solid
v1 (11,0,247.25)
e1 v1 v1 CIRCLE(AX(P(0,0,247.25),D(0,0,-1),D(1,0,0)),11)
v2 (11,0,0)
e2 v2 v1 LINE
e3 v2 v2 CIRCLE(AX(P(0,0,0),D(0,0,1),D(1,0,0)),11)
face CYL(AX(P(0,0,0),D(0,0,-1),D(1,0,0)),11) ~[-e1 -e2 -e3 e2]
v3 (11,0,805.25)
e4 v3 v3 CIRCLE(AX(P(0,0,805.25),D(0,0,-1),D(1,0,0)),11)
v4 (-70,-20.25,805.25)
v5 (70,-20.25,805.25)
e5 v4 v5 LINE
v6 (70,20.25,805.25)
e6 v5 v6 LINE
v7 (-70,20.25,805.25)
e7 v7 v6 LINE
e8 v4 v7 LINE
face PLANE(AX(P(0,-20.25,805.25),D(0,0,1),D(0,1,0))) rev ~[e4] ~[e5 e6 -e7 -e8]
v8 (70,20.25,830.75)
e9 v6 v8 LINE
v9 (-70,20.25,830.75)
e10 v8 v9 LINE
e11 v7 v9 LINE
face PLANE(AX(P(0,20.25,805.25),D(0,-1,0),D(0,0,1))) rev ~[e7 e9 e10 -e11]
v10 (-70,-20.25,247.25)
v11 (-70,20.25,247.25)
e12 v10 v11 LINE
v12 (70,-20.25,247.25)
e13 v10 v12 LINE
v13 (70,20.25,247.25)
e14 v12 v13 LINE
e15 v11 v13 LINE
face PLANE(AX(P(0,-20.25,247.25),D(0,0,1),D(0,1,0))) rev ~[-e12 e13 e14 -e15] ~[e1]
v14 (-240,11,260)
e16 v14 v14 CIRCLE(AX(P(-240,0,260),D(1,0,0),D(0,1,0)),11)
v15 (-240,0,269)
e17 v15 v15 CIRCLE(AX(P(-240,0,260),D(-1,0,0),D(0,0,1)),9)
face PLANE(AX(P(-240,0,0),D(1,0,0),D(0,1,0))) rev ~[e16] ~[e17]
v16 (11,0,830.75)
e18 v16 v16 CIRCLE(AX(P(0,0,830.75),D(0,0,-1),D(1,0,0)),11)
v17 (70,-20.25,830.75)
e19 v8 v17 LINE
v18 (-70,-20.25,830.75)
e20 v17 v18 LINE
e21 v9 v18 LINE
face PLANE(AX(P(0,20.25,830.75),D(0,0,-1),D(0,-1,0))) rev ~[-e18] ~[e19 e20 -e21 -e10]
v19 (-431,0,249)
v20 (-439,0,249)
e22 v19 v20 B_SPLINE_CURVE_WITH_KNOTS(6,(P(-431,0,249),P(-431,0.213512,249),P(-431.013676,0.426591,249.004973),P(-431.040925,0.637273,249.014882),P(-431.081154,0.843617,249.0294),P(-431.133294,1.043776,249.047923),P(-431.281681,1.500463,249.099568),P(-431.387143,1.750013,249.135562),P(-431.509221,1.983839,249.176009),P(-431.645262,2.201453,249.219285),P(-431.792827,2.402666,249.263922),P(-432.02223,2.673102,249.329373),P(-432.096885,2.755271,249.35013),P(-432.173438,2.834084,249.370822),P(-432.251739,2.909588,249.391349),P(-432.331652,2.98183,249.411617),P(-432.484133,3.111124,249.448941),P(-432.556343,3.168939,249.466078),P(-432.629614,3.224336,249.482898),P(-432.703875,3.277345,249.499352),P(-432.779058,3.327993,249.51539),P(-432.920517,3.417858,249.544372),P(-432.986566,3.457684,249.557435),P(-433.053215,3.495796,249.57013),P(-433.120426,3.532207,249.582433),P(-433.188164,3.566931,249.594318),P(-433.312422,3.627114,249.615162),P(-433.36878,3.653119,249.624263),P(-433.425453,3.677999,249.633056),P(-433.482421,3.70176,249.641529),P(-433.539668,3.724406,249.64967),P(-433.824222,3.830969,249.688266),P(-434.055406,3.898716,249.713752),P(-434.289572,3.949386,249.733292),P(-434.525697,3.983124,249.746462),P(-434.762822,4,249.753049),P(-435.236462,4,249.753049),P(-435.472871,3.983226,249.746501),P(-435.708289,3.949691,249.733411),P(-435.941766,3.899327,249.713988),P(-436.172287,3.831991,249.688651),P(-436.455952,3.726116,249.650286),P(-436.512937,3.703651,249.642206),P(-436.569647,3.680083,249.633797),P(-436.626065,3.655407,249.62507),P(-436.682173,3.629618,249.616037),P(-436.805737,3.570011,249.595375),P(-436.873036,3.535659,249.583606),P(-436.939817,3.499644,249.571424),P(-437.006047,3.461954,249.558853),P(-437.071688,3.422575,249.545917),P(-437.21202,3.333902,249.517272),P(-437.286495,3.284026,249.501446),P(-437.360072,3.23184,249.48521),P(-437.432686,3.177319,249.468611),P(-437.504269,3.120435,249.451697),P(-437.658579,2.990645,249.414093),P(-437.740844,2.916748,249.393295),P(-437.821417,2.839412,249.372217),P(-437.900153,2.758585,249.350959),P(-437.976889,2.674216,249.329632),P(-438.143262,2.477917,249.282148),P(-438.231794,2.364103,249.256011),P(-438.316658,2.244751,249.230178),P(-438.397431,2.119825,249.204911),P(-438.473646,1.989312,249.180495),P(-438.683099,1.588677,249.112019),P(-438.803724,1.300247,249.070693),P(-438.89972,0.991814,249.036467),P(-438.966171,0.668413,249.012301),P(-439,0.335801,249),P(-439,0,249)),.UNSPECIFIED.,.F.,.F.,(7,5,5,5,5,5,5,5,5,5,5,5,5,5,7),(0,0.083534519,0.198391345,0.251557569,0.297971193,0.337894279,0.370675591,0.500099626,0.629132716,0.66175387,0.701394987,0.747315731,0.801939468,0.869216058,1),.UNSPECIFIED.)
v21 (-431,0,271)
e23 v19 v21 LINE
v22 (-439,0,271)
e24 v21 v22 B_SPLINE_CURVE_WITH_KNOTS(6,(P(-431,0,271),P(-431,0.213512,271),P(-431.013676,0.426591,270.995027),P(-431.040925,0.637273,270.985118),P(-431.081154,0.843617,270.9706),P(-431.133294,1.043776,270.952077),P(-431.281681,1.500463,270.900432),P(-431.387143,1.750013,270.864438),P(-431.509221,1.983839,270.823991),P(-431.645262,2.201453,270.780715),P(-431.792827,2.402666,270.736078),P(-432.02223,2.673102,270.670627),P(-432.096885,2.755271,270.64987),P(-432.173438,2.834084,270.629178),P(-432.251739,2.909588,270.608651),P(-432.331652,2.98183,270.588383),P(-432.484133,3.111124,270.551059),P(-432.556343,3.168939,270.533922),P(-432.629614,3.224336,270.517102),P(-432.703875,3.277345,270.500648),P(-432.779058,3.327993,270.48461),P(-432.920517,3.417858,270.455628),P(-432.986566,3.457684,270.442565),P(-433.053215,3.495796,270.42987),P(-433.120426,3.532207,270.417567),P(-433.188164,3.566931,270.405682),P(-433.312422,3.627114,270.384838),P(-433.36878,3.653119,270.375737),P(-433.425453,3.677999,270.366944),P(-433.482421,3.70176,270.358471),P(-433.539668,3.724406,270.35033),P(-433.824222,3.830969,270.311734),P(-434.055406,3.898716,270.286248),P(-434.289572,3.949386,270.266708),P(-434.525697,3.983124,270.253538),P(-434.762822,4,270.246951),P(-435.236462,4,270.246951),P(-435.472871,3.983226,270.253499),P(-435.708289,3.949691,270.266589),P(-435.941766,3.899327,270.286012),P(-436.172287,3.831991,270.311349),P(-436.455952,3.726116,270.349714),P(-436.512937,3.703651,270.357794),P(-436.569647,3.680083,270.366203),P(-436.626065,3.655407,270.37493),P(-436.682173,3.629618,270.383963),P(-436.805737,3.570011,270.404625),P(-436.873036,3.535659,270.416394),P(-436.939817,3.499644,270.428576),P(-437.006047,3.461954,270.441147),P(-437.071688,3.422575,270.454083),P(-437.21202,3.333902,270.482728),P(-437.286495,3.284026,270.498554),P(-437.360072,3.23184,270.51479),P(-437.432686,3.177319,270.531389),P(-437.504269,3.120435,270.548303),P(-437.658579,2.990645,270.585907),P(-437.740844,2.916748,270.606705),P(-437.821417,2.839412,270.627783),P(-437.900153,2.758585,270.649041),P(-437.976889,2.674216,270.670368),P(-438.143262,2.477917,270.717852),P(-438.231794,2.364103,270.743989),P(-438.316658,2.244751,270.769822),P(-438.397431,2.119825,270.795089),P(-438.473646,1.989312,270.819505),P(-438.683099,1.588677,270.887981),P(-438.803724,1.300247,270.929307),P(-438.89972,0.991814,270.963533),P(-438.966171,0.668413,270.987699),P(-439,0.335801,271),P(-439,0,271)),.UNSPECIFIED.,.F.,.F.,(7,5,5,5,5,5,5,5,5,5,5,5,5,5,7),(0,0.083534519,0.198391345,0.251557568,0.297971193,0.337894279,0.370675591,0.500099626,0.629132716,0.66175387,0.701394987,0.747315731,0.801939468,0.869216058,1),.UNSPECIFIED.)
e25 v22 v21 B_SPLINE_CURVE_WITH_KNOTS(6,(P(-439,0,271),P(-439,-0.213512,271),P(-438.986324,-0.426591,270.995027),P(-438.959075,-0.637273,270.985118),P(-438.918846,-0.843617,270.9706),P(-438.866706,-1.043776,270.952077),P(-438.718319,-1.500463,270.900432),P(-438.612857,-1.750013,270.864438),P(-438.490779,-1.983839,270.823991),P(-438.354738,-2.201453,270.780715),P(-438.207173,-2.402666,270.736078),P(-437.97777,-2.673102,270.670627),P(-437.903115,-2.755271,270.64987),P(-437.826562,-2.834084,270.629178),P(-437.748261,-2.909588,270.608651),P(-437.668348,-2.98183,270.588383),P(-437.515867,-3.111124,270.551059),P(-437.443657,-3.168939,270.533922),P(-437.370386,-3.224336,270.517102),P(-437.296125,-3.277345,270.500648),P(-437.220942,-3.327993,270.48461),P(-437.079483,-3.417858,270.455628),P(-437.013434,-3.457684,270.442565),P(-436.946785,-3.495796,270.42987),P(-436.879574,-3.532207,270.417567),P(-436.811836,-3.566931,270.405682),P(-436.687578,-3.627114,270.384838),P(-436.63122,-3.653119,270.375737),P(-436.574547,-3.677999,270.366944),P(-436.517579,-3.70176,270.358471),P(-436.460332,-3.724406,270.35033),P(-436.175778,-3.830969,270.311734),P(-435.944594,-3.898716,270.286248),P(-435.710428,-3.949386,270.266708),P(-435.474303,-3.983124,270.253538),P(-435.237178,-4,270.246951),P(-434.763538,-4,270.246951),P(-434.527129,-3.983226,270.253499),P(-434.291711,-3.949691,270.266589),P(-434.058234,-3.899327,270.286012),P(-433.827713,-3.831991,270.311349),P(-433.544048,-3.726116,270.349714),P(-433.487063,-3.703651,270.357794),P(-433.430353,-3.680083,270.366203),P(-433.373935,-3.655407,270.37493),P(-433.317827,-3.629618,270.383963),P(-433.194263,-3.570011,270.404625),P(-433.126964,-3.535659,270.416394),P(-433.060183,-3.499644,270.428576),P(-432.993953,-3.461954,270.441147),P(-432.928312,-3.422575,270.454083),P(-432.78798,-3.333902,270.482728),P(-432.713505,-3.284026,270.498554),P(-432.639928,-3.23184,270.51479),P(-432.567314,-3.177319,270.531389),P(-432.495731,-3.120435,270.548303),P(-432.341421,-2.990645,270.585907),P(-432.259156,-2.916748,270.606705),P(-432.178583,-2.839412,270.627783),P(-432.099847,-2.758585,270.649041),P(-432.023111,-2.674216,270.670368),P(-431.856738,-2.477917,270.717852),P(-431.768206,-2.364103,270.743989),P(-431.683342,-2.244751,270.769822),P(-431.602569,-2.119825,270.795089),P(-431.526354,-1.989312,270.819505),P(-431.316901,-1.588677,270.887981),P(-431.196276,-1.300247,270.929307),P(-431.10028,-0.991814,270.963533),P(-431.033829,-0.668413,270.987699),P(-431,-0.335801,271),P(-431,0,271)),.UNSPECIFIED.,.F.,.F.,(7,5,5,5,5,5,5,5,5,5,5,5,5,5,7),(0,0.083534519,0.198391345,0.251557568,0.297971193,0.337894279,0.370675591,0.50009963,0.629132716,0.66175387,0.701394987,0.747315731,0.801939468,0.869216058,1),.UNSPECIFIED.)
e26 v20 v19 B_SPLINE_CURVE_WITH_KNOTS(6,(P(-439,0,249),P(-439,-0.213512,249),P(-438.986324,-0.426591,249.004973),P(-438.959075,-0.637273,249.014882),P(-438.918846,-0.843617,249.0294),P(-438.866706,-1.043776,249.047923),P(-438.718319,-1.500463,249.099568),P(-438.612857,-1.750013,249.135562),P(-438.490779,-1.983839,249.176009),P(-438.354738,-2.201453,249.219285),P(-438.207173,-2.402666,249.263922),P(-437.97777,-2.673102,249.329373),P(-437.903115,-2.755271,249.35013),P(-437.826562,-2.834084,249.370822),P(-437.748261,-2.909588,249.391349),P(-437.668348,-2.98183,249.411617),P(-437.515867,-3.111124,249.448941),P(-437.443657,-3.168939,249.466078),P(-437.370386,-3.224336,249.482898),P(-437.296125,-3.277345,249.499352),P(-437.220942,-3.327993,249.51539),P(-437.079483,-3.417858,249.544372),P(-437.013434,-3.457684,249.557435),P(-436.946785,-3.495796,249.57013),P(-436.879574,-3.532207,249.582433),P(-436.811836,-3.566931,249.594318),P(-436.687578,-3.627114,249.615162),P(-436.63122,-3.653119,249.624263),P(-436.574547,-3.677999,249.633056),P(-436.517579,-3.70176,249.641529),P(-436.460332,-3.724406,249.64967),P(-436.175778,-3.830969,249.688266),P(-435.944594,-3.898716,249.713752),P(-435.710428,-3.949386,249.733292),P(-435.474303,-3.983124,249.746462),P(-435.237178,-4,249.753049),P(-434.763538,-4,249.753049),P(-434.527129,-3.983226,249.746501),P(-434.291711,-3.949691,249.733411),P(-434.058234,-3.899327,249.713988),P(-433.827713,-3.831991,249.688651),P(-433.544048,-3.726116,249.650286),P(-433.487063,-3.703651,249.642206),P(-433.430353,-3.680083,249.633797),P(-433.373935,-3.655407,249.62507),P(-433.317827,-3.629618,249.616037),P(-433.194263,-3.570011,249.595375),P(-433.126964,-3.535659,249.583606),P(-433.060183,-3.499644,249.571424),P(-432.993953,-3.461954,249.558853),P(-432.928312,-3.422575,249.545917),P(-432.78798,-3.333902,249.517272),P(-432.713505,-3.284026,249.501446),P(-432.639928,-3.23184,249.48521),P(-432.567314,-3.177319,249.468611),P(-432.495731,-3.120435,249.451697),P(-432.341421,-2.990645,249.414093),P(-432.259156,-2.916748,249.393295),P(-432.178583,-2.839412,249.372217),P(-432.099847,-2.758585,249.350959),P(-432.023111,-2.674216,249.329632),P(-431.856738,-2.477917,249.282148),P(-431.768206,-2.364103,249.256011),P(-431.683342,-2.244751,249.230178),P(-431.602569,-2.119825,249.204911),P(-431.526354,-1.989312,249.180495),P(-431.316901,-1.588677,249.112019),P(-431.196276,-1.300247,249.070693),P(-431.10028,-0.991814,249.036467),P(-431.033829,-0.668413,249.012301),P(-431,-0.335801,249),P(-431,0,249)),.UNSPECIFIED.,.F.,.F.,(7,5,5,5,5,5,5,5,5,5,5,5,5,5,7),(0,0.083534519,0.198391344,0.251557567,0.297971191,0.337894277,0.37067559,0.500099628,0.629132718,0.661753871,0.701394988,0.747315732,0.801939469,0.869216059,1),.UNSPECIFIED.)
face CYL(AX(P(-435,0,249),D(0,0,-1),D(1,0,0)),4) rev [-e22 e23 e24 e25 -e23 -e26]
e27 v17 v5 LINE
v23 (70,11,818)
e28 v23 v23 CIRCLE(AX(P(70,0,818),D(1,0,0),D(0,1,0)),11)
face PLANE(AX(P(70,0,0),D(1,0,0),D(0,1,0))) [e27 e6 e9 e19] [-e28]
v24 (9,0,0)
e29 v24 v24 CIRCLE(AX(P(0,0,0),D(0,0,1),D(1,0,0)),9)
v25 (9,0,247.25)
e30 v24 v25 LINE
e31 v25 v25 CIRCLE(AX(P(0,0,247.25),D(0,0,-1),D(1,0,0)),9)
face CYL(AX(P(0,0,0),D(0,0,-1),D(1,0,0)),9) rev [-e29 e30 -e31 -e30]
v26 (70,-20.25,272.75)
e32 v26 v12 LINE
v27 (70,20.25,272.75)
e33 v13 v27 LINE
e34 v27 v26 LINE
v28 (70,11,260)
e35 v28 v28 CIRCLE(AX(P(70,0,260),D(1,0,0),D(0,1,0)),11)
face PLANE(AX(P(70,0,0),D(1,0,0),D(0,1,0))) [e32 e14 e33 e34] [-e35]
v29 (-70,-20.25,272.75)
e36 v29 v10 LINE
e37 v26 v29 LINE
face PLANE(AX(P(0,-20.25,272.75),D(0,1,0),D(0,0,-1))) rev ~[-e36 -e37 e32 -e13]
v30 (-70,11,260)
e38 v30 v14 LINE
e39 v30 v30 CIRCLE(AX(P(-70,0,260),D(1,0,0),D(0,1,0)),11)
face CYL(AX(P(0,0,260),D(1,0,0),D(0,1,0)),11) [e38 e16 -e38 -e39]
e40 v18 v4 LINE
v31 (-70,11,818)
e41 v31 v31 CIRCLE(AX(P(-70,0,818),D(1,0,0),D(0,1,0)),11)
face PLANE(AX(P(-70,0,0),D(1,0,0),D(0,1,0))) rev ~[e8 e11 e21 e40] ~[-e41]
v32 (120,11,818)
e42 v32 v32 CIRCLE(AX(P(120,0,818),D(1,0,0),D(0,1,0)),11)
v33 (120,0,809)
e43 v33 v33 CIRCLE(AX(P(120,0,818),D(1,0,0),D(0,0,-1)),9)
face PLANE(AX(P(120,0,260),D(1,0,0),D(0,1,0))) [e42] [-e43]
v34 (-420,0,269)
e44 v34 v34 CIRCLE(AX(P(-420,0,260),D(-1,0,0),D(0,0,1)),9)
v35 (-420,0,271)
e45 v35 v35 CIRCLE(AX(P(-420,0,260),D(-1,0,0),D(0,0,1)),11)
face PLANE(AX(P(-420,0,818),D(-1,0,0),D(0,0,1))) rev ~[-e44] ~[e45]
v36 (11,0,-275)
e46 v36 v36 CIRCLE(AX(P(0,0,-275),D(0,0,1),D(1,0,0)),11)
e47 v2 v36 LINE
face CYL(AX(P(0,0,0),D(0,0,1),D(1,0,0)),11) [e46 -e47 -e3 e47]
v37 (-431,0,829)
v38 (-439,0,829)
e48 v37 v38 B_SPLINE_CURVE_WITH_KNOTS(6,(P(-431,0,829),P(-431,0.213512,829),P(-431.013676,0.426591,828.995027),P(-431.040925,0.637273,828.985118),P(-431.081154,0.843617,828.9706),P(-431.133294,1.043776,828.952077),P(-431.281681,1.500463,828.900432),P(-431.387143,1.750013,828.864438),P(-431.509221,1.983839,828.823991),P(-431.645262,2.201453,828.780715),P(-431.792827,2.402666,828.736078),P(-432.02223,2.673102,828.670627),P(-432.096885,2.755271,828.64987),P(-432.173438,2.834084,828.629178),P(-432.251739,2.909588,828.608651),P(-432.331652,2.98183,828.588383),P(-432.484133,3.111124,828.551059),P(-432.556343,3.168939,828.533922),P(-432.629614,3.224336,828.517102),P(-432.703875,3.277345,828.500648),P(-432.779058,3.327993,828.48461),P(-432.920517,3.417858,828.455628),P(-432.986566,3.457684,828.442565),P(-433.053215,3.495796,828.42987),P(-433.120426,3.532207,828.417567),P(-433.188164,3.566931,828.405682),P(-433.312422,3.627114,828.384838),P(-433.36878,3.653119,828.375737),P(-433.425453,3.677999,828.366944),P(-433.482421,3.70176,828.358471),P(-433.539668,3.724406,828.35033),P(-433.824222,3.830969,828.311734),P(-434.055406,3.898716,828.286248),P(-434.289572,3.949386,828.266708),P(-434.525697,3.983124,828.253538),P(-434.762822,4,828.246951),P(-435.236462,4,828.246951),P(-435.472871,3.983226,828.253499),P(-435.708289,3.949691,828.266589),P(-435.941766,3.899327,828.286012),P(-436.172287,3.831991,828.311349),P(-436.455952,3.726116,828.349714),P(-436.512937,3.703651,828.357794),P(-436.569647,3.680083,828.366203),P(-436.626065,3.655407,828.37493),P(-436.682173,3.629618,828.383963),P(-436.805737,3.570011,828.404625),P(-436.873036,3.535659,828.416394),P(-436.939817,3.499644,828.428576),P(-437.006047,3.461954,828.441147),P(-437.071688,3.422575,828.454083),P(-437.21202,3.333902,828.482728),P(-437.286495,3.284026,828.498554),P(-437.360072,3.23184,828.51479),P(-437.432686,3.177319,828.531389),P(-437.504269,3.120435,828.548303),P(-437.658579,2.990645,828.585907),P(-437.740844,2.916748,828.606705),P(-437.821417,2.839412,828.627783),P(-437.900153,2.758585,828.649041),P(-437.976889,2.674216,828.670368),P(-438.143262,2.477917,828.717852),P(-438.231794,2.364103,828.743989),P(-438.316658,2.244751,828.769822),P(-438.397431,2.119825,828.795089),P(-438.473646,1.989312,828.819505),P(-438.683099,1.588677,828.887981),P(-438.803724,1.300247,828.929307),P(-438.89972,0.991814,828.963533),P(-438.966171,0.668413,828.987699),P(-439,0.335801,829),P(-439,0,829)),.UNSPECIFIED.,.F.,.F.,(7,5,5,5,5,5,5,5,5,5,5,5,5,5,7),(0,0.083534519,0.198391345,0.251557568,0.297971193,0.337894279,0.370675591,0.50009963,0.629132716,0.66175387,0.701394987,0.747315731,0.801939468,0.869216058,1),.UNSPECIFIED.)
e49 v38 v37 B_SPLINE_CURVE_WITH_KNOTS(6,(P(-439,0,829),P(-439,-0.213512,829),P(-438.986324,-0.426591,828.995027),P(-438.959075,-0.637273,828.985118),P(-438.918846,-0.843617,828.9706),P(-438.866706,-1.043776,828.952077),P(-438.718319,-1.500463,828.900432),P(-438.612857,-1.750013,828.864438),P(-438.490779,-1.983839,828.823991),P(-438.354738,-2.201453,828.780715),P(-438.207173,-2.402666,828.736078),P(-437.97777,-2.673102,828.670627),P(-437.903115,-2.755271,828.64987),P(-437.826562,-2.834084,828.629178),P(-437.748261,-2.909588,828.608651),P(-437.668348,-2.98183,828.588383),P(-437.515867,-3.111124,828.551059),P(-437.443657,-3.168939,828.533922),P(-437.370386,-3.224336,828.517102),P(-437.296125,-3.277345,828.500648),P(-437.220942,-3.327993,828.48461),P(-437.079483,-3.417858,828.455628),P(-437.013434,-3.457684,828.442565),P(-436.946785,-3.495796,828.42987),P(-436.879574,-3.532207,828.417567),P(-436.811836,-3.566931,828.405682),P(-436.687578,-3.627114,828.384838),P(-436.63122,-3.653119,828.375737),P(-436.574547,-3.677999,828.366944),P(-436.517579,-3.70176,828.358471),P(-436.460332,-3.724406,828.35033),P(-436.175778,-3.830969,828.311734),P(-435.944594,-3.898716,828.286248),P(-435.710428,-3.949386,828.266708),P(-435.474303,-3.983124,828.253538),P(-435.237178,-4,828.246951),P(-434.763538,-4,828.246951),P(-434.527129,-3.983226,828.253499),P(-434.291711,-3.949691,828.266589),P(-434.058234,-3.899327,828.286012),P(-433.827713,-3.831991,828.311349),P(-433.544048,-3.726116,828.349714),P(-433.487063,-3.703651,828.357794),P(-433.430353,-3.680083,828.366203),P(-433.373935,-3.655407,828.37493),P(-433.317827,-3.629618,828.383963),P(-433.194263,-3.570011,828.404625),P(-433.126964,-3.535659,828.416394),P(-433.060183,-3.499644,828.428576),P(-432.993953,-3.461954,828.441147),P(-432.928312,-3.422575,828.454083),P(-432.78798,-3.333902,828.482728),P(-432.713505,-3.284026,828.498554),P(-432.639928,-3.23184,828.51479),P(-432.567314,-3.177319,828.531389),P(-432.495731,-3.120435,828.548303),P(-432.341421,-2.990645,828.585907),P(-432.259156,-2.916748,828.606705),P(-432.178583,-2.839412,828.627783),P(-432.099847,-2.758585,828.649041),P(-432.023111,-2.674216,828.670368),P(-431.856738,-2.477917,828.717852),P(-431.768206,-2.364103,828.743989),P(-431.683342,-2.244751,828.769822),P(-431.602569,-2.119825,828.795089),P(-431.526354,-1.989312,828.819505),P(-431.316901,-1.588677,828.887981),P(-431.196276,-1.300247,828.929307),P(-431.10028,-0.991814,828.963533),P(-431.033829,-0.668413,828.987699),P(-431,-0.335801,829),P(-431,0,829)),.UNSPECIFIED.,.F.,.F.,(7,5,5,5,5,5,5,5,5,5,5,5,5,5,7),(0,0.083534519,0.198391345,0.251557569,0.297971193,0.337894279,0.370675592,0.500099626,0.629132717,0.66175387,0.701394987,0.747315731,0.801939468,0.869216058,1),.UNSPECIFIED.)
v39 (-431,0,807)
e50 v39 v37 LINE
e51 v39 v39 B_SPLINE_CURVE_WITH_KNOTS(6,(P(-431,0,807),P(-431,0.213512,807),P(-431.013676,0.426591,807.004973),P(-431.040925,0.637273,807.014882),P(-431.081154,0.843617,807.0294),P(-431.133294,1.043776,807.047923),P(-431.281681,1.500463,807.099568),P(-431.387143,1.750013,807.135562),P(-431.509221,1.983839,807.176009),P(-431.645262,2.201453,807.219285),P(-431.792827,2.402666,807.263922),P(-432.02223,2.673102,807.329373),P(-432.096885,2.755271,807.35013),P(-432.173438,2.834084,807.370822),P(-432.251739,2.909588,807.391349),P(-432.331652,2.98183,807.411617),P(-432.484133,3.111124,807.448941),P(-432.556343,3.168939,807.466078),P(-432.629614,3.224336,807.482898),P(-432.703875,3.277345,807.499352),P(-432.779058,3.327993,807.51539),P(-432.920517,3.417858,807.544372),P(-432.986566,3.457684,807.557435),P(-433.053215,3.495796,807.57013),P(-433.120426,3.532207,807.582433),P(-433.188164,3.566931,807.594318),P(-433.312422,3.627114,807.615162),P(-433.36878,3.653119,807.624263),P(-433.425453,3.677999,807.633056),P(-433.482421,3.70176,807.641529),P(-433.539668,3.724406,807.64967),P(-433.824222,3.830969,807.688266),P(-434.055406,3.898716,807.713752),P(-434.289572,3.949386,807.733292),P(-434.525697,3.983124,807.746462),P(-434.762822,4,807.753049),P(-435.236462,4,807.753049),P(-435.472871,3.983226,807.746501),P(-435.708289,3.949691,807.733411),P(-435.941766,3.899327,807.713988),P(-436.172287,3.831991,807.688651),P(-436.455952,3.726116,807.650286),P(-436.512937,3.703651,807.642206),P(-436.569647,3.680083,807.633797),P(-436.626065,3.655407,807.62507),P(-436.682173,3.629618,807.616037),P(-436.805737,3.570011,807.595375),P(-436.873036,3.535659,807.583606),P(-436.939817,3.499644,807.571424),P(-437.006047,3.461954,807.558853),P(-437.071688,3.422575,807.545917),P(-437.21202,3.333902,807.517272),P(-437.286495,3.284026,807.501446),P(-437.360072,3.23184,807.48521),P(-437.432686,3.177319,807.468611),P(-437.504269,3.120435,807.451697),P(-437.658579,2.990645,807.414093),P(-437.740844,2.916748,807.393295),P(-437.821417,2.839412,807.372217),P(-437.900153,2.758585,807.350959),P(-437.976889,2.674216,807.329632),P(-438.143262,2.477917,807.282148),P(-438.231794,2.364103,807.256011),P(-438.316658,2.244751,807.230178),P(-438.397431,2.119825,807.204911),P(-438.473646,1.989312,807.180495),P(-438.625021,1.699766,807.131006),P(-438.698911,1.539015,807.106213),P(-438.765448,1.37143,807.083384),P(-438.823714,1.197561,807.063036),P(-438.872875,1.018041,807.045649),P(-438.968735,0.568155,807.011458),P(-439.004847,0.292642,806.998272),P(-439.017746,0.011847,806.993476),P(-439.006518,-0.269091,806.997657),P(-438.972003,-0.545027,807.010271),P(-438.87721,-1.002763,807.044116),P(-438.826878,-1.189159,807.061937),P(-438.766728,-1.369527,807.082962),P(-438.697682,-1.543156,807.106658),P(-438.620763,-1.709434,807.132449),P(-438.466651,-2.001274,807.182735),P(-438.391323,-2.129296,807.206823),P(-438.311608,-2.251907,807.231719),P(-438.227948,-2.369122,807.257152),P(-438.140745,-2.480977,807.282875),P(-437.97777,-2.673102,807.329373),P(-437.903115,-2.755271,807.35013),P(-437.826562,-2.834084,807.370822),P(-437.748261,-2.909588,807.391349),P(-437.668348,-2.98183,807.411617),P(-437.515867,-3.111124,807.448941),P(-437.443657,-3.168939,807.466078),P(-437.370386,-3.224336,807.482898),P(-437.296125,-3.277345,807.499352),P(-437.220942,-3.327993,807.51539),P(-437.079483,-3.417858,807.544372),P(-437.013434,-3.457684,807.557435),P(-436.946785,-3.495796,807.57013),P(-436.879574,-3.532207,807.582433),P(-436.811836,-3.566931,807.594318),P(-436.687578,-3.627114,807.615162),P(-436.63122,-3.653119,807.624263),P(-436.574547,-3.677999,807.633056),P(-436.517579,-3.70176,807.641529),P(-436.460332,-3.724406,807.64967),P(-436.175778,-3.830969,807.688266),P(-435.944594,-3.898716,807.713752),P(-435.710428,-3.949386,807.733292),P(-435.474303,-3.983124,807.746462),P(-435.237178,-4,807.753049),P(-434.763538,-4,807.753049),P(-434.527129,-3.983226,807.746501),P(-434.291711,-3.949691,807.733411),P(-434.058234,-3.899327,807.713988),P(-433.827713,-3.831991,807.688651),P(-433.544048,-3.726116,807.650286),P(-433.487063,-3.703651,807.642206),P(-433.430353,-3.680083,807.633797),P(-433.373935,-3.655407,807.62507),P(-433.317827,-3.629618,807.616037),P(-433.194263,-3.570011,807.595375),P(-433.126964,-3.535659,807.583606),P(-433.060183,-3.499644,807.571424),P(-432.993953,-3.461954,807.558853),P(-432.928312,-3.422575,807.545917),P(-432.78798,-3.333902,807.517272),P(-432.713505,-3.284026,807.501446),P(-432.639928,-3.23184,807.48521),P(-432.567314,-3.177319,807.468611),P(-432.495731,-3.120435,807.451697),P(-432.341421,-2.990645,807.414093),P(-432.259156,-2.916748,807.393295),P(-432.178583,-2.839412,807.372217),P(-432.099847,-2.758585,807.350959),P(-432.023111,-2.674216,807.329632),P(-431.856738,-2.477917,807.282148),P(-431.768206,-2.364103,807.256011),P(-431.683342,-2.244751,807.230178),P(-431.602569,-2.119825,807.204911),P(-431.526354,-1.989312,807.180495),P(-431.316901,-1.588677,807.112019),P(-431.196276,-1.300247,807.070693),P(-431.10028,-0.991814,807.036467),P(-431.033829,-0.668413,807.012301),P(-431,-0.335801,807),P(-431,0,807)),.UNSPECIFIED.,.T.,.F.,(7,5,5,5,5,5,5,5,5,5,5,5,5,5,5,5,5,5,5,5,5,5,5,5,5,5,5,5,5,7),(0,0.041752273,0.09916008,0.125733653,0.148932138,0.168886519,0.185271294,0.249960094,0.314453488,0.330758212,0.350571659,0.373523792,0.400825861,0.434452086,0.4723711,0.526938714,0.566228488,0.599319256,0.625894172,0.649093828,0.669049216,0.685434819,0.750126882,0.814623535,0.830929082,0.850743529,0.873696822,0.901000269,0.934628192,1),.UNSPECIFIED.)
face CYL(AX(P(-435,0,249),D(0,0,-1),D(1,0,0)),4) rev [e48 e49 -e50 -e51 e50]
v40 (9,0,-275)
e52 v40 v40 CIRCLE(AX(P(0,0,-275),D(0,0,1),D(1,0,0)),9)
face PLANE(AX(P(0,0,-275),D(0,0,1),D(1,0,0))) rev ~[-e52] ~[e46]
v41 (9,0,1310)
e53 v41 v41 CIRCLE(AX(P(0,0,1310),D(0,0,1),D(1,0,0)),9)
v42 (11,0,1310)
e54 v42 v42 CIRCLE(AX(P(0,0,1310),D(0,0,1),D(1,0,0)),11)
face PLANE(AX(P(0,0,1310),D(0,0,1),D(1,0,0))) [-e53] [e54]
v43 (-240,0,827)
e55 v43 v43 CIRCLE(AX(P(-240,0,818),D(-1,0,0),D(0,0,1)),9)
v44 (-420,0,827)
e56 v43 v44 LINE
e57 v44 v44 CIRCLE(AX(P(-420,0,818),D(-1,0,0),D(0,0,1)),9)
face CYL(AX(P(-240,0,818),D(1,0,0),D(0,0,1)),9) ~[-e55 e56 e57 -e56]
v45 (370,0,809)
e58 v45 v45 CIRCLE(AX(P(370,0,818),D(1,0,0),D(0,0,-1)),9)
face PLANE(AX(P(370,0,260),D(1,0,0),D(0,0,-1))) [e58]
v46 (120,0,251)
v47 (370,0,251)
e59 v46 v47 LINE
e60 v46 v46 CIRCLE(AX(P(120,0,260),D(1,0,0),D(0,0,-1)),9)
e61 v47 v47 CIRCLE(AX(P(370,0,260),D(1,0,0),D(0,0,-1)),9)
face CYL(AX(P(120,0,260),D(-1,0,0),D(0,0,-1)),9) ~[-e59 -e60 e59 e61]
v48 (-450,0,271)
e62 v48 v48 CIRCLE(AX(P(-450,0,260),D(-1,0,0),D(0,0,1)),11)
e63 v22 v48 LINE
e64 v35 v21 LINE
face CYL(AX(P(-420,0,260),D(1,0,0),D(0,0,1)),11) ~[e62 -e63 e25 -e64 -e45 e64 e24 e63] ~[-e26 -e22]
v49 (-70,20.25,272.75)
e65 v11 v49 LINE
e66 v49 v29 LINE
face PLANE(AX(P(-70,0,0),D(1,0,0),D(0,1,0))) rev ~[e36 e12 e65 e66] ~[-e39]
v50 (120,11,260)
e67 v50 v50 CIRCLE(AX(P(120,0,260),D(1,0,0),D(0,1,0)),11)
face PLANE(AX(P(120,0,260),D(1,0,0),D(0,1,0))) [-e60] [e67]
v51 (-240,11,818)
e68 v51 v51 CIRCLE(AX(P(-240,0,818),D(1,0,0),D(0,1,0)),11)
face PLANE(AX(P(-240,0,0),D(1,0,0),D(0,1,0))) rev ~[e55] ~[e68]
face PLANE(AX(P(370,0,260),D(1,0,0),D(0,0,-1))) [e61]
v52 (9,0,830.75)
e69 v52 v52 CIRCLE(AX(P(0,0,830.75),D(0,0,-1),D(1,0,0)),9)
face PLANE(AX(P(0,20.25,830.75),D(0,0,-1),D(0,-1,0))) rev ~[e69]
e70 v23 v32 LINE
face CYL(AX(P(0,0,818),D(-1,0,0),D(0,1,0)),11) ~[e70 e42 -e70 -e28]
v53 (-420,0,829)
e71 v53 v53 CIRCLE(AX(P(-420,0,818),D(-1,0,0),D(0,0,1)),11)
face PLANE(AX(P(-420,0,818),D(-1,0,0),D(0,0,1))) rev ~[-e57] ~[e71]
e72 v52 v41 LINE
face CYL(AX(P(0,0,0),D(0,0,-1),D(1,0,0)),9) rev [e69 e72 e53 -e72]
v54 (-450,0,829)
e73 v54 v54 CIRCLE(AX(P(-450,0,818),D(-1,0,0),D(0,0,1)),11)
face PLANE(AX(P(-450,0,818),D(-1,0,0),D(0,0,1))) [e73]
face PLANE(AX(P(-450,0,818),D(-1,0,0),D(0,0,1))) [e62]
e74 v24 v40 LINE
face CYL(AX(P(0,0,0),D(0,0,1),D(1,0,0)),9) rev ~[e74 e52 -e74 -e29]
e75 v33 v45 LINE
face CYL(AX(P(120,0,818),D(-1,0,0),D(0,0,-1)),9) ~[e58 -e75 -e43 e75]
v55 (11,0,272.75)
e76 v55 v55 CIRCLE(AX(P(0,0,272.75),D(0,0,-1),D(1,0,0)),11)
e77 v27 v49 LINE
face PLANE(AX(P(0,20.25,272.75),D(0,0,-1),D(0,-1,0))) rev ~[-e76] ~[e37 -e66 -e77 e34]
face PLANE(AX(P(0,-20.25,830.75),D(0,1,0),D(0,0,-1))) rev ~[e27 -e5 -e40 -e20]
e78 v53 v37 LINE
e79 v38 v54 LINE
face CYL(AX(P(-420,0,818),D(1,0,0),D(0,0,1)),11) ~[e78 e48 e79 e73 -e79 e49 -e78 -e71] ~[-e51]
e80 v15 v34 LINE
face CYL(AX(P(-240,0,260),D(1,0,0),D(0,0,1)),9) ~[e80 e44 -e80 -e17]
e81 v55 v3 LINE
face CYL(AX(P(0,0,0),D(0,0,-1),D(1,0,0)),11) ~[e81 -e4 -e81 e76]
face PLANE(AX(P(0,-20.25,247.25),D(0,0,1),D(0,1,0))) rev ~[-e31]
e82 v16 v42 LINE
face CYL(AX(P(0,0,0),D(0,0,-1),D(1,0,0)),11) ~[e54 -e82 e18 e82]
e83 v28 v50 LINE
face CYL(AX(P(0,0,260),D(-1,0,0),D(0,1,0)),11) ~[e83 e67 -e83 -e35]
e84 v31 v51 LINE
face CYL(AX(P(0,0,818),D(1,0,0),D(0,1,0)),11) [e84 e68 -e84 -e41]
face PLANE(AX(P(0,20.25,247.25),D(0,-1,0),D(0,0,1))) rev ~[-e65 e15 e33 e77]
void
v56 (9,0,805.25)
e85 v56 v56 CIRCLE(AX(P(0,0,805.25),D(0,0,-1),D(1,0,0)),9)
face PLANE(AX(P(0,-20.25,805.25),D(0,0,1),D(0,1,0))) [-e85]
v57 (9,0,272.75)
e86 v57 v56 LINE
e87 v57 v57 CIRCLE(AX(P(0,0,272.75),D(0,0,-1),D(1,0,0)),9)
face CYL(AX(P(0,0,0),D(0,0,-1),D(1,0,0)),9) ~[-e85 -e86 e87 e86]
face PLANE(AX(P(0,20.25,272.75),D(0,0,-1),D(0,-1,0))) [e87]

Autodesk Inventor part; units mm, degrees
ref_plane "YZ Plane" through (0, 0, 0) normal (1, 0, 0) x (0, 1, 0)
sketch "Sketch1" plane through (0, 0, 0) normal (0, 0, 1) x (1, 0, 0)
  circle A0 centre (0, 0) radius 11
  circle A1 centre (0, 0) radius 9
  dimension "d9" = 22
  dimension "d40" = 18
extrude "mast" add sketch "Sketch1" along normal blind 1310 and the other way blind 275
sketch "Sketch4" plane through (0, 0, 0) normal (1, 0, 0) x (0, 1, 0)
  circle A0 centre (0, 818) radius 11
  circle A1 centre (0, 260) radius 11
  line L0 (-20.25, 247.25) -> (20.25, 247.25)
  line L1 (20.25, 247.25) -> (20.25, 272.75)
  line L2 (20.25, 272.75) -> (-20.25, 272.75)
  line L3 (-20.25, 272.75) -> (-20.25, 247.25)
  line L4 (-20.25, 247.25) -> (20.25, 272.75) construction
  line L5 (20.25, 247.25) -> (-20.25, 272.75) construction
  line L6 (-20.25, 805.25) -> (20.25, 805.25)
  line L7 (20.25, 805.25) -> (20.25, 830.75)
  line L8 (20.25, 830.75) -> (-20.25, 830.75)
  line L9 (-20.25, 830.75) -> (-20.25, 805.25)
  line L10 (-20.25, 805.25) -> (20.25, 830.75) construction
  line L11 (20.25, 805.25) -> (-20.25, 830.75) construction
  point P0 (0, 0)
  dimension "d19" = 22
  dimension "d20" = 818
  dimension "d21" = 22
  dimension "d22" = 260
  dimension "d97" = 40.5
  dimension "d98" = 25.5
  dimension "d99" = 40.5
  dimension "d100" = 25.5
extrude "tail" add sketch "Sketch4" against normal blind 240 contours A0 | A1
sketch "Sketch8" plane through (-240, 0, 260) normal (-1, 0, 0) x (0, 0, 1)
  circle A0 centre (0, 0) radius 11 projected
  circle A1 centre (0, 0) radius 11
  circle A2 centre (0, 0) radius 9
  circle A3 centre (558, 0) radius 11 projected
  circle A4 centre (558, 0) radius 9
  dimension "d42" = 18
  dimension "d52" = 18
extrude "tail2" add sketch "Sketch8" along normal blind 180 contours A2 | A4
ref_plane "Work Plane4" through (0, 0, 249) normal (0, 0, 1) x (1, 0, 0)
sketch "Sketch11" plane through (-420, 0, 818) normal (-1, 0, 0) x (0, 0, 1)
  circle A0 centre (0, 0) radius 9 projected
  circle A1 centre (-558, 0) radius 11
  circle A2 centre (0, 0) radius 11
  circle A3 centre (0, 0) radius 7
  circle A4 centre (-558, 0) radius 9 projected
  point P0 (-818, 0)
  dimension "d53" = 22
  dimension "d54" = 22
  dimension "d58" = 14
extrude "tail3" add sketch "Sketch11" along normal blind 30 contours A0 | A1 | A2 | A3 | A4
ref_plane "Work Plane5" through (0, 0, 249) normal (0, 0, 1) x (1, 0, 0)
sketch "Sketch20" plane through (0, 0, 249) normal (0, 0, 1) x (1, 0, 0)
  circle A0 centre (-435, 0) radius 4
  line L0 (-450, 11) -> (-450, -11) projected
  line L1 (-450, 0) -> (-430, 0) construction
  point P0 (0, 0)
  dimension "d82" = 8
  dimension "d83" = 15
extrude "tail holes" cut sketch "Sketch20" along normal through all
sketch "Sketch14" plane through (0, 0, 260) normal (1, 0, 0) x (0, 1, 0)
  circle A0 centre (0, 558) radius 11 projected
  circle A1 centre (0, 0) radius 11 projected
  point P0 (0, -260)
extrude "weight" add sketch "Sketch14" along normal blind 120
sketch "Sketch21" plane through (120, 0, 260) normal (1, 0, 0) x (0, 0, -1)
  circle A0 centre (0, 0) radius 11 projected
  circle A1 centre (0, 0) radius 9
  circle A2 centre (-558, 0) radius 11 projected
  circle A3 centre (-558, 0) radius 9
  point P0 (260, 0)
  dimension "d88" = 18
  dimension "d89" = 18
extrude "weight2" add sketch "Sketch21" along normal blind 250 contours A1 | A3
extrude "reinforcement tube" add sketch "Sketch4" along normal mid plane 140
equation "\"tail_height\" = 530"
properties part number "sail_skeleton2"
